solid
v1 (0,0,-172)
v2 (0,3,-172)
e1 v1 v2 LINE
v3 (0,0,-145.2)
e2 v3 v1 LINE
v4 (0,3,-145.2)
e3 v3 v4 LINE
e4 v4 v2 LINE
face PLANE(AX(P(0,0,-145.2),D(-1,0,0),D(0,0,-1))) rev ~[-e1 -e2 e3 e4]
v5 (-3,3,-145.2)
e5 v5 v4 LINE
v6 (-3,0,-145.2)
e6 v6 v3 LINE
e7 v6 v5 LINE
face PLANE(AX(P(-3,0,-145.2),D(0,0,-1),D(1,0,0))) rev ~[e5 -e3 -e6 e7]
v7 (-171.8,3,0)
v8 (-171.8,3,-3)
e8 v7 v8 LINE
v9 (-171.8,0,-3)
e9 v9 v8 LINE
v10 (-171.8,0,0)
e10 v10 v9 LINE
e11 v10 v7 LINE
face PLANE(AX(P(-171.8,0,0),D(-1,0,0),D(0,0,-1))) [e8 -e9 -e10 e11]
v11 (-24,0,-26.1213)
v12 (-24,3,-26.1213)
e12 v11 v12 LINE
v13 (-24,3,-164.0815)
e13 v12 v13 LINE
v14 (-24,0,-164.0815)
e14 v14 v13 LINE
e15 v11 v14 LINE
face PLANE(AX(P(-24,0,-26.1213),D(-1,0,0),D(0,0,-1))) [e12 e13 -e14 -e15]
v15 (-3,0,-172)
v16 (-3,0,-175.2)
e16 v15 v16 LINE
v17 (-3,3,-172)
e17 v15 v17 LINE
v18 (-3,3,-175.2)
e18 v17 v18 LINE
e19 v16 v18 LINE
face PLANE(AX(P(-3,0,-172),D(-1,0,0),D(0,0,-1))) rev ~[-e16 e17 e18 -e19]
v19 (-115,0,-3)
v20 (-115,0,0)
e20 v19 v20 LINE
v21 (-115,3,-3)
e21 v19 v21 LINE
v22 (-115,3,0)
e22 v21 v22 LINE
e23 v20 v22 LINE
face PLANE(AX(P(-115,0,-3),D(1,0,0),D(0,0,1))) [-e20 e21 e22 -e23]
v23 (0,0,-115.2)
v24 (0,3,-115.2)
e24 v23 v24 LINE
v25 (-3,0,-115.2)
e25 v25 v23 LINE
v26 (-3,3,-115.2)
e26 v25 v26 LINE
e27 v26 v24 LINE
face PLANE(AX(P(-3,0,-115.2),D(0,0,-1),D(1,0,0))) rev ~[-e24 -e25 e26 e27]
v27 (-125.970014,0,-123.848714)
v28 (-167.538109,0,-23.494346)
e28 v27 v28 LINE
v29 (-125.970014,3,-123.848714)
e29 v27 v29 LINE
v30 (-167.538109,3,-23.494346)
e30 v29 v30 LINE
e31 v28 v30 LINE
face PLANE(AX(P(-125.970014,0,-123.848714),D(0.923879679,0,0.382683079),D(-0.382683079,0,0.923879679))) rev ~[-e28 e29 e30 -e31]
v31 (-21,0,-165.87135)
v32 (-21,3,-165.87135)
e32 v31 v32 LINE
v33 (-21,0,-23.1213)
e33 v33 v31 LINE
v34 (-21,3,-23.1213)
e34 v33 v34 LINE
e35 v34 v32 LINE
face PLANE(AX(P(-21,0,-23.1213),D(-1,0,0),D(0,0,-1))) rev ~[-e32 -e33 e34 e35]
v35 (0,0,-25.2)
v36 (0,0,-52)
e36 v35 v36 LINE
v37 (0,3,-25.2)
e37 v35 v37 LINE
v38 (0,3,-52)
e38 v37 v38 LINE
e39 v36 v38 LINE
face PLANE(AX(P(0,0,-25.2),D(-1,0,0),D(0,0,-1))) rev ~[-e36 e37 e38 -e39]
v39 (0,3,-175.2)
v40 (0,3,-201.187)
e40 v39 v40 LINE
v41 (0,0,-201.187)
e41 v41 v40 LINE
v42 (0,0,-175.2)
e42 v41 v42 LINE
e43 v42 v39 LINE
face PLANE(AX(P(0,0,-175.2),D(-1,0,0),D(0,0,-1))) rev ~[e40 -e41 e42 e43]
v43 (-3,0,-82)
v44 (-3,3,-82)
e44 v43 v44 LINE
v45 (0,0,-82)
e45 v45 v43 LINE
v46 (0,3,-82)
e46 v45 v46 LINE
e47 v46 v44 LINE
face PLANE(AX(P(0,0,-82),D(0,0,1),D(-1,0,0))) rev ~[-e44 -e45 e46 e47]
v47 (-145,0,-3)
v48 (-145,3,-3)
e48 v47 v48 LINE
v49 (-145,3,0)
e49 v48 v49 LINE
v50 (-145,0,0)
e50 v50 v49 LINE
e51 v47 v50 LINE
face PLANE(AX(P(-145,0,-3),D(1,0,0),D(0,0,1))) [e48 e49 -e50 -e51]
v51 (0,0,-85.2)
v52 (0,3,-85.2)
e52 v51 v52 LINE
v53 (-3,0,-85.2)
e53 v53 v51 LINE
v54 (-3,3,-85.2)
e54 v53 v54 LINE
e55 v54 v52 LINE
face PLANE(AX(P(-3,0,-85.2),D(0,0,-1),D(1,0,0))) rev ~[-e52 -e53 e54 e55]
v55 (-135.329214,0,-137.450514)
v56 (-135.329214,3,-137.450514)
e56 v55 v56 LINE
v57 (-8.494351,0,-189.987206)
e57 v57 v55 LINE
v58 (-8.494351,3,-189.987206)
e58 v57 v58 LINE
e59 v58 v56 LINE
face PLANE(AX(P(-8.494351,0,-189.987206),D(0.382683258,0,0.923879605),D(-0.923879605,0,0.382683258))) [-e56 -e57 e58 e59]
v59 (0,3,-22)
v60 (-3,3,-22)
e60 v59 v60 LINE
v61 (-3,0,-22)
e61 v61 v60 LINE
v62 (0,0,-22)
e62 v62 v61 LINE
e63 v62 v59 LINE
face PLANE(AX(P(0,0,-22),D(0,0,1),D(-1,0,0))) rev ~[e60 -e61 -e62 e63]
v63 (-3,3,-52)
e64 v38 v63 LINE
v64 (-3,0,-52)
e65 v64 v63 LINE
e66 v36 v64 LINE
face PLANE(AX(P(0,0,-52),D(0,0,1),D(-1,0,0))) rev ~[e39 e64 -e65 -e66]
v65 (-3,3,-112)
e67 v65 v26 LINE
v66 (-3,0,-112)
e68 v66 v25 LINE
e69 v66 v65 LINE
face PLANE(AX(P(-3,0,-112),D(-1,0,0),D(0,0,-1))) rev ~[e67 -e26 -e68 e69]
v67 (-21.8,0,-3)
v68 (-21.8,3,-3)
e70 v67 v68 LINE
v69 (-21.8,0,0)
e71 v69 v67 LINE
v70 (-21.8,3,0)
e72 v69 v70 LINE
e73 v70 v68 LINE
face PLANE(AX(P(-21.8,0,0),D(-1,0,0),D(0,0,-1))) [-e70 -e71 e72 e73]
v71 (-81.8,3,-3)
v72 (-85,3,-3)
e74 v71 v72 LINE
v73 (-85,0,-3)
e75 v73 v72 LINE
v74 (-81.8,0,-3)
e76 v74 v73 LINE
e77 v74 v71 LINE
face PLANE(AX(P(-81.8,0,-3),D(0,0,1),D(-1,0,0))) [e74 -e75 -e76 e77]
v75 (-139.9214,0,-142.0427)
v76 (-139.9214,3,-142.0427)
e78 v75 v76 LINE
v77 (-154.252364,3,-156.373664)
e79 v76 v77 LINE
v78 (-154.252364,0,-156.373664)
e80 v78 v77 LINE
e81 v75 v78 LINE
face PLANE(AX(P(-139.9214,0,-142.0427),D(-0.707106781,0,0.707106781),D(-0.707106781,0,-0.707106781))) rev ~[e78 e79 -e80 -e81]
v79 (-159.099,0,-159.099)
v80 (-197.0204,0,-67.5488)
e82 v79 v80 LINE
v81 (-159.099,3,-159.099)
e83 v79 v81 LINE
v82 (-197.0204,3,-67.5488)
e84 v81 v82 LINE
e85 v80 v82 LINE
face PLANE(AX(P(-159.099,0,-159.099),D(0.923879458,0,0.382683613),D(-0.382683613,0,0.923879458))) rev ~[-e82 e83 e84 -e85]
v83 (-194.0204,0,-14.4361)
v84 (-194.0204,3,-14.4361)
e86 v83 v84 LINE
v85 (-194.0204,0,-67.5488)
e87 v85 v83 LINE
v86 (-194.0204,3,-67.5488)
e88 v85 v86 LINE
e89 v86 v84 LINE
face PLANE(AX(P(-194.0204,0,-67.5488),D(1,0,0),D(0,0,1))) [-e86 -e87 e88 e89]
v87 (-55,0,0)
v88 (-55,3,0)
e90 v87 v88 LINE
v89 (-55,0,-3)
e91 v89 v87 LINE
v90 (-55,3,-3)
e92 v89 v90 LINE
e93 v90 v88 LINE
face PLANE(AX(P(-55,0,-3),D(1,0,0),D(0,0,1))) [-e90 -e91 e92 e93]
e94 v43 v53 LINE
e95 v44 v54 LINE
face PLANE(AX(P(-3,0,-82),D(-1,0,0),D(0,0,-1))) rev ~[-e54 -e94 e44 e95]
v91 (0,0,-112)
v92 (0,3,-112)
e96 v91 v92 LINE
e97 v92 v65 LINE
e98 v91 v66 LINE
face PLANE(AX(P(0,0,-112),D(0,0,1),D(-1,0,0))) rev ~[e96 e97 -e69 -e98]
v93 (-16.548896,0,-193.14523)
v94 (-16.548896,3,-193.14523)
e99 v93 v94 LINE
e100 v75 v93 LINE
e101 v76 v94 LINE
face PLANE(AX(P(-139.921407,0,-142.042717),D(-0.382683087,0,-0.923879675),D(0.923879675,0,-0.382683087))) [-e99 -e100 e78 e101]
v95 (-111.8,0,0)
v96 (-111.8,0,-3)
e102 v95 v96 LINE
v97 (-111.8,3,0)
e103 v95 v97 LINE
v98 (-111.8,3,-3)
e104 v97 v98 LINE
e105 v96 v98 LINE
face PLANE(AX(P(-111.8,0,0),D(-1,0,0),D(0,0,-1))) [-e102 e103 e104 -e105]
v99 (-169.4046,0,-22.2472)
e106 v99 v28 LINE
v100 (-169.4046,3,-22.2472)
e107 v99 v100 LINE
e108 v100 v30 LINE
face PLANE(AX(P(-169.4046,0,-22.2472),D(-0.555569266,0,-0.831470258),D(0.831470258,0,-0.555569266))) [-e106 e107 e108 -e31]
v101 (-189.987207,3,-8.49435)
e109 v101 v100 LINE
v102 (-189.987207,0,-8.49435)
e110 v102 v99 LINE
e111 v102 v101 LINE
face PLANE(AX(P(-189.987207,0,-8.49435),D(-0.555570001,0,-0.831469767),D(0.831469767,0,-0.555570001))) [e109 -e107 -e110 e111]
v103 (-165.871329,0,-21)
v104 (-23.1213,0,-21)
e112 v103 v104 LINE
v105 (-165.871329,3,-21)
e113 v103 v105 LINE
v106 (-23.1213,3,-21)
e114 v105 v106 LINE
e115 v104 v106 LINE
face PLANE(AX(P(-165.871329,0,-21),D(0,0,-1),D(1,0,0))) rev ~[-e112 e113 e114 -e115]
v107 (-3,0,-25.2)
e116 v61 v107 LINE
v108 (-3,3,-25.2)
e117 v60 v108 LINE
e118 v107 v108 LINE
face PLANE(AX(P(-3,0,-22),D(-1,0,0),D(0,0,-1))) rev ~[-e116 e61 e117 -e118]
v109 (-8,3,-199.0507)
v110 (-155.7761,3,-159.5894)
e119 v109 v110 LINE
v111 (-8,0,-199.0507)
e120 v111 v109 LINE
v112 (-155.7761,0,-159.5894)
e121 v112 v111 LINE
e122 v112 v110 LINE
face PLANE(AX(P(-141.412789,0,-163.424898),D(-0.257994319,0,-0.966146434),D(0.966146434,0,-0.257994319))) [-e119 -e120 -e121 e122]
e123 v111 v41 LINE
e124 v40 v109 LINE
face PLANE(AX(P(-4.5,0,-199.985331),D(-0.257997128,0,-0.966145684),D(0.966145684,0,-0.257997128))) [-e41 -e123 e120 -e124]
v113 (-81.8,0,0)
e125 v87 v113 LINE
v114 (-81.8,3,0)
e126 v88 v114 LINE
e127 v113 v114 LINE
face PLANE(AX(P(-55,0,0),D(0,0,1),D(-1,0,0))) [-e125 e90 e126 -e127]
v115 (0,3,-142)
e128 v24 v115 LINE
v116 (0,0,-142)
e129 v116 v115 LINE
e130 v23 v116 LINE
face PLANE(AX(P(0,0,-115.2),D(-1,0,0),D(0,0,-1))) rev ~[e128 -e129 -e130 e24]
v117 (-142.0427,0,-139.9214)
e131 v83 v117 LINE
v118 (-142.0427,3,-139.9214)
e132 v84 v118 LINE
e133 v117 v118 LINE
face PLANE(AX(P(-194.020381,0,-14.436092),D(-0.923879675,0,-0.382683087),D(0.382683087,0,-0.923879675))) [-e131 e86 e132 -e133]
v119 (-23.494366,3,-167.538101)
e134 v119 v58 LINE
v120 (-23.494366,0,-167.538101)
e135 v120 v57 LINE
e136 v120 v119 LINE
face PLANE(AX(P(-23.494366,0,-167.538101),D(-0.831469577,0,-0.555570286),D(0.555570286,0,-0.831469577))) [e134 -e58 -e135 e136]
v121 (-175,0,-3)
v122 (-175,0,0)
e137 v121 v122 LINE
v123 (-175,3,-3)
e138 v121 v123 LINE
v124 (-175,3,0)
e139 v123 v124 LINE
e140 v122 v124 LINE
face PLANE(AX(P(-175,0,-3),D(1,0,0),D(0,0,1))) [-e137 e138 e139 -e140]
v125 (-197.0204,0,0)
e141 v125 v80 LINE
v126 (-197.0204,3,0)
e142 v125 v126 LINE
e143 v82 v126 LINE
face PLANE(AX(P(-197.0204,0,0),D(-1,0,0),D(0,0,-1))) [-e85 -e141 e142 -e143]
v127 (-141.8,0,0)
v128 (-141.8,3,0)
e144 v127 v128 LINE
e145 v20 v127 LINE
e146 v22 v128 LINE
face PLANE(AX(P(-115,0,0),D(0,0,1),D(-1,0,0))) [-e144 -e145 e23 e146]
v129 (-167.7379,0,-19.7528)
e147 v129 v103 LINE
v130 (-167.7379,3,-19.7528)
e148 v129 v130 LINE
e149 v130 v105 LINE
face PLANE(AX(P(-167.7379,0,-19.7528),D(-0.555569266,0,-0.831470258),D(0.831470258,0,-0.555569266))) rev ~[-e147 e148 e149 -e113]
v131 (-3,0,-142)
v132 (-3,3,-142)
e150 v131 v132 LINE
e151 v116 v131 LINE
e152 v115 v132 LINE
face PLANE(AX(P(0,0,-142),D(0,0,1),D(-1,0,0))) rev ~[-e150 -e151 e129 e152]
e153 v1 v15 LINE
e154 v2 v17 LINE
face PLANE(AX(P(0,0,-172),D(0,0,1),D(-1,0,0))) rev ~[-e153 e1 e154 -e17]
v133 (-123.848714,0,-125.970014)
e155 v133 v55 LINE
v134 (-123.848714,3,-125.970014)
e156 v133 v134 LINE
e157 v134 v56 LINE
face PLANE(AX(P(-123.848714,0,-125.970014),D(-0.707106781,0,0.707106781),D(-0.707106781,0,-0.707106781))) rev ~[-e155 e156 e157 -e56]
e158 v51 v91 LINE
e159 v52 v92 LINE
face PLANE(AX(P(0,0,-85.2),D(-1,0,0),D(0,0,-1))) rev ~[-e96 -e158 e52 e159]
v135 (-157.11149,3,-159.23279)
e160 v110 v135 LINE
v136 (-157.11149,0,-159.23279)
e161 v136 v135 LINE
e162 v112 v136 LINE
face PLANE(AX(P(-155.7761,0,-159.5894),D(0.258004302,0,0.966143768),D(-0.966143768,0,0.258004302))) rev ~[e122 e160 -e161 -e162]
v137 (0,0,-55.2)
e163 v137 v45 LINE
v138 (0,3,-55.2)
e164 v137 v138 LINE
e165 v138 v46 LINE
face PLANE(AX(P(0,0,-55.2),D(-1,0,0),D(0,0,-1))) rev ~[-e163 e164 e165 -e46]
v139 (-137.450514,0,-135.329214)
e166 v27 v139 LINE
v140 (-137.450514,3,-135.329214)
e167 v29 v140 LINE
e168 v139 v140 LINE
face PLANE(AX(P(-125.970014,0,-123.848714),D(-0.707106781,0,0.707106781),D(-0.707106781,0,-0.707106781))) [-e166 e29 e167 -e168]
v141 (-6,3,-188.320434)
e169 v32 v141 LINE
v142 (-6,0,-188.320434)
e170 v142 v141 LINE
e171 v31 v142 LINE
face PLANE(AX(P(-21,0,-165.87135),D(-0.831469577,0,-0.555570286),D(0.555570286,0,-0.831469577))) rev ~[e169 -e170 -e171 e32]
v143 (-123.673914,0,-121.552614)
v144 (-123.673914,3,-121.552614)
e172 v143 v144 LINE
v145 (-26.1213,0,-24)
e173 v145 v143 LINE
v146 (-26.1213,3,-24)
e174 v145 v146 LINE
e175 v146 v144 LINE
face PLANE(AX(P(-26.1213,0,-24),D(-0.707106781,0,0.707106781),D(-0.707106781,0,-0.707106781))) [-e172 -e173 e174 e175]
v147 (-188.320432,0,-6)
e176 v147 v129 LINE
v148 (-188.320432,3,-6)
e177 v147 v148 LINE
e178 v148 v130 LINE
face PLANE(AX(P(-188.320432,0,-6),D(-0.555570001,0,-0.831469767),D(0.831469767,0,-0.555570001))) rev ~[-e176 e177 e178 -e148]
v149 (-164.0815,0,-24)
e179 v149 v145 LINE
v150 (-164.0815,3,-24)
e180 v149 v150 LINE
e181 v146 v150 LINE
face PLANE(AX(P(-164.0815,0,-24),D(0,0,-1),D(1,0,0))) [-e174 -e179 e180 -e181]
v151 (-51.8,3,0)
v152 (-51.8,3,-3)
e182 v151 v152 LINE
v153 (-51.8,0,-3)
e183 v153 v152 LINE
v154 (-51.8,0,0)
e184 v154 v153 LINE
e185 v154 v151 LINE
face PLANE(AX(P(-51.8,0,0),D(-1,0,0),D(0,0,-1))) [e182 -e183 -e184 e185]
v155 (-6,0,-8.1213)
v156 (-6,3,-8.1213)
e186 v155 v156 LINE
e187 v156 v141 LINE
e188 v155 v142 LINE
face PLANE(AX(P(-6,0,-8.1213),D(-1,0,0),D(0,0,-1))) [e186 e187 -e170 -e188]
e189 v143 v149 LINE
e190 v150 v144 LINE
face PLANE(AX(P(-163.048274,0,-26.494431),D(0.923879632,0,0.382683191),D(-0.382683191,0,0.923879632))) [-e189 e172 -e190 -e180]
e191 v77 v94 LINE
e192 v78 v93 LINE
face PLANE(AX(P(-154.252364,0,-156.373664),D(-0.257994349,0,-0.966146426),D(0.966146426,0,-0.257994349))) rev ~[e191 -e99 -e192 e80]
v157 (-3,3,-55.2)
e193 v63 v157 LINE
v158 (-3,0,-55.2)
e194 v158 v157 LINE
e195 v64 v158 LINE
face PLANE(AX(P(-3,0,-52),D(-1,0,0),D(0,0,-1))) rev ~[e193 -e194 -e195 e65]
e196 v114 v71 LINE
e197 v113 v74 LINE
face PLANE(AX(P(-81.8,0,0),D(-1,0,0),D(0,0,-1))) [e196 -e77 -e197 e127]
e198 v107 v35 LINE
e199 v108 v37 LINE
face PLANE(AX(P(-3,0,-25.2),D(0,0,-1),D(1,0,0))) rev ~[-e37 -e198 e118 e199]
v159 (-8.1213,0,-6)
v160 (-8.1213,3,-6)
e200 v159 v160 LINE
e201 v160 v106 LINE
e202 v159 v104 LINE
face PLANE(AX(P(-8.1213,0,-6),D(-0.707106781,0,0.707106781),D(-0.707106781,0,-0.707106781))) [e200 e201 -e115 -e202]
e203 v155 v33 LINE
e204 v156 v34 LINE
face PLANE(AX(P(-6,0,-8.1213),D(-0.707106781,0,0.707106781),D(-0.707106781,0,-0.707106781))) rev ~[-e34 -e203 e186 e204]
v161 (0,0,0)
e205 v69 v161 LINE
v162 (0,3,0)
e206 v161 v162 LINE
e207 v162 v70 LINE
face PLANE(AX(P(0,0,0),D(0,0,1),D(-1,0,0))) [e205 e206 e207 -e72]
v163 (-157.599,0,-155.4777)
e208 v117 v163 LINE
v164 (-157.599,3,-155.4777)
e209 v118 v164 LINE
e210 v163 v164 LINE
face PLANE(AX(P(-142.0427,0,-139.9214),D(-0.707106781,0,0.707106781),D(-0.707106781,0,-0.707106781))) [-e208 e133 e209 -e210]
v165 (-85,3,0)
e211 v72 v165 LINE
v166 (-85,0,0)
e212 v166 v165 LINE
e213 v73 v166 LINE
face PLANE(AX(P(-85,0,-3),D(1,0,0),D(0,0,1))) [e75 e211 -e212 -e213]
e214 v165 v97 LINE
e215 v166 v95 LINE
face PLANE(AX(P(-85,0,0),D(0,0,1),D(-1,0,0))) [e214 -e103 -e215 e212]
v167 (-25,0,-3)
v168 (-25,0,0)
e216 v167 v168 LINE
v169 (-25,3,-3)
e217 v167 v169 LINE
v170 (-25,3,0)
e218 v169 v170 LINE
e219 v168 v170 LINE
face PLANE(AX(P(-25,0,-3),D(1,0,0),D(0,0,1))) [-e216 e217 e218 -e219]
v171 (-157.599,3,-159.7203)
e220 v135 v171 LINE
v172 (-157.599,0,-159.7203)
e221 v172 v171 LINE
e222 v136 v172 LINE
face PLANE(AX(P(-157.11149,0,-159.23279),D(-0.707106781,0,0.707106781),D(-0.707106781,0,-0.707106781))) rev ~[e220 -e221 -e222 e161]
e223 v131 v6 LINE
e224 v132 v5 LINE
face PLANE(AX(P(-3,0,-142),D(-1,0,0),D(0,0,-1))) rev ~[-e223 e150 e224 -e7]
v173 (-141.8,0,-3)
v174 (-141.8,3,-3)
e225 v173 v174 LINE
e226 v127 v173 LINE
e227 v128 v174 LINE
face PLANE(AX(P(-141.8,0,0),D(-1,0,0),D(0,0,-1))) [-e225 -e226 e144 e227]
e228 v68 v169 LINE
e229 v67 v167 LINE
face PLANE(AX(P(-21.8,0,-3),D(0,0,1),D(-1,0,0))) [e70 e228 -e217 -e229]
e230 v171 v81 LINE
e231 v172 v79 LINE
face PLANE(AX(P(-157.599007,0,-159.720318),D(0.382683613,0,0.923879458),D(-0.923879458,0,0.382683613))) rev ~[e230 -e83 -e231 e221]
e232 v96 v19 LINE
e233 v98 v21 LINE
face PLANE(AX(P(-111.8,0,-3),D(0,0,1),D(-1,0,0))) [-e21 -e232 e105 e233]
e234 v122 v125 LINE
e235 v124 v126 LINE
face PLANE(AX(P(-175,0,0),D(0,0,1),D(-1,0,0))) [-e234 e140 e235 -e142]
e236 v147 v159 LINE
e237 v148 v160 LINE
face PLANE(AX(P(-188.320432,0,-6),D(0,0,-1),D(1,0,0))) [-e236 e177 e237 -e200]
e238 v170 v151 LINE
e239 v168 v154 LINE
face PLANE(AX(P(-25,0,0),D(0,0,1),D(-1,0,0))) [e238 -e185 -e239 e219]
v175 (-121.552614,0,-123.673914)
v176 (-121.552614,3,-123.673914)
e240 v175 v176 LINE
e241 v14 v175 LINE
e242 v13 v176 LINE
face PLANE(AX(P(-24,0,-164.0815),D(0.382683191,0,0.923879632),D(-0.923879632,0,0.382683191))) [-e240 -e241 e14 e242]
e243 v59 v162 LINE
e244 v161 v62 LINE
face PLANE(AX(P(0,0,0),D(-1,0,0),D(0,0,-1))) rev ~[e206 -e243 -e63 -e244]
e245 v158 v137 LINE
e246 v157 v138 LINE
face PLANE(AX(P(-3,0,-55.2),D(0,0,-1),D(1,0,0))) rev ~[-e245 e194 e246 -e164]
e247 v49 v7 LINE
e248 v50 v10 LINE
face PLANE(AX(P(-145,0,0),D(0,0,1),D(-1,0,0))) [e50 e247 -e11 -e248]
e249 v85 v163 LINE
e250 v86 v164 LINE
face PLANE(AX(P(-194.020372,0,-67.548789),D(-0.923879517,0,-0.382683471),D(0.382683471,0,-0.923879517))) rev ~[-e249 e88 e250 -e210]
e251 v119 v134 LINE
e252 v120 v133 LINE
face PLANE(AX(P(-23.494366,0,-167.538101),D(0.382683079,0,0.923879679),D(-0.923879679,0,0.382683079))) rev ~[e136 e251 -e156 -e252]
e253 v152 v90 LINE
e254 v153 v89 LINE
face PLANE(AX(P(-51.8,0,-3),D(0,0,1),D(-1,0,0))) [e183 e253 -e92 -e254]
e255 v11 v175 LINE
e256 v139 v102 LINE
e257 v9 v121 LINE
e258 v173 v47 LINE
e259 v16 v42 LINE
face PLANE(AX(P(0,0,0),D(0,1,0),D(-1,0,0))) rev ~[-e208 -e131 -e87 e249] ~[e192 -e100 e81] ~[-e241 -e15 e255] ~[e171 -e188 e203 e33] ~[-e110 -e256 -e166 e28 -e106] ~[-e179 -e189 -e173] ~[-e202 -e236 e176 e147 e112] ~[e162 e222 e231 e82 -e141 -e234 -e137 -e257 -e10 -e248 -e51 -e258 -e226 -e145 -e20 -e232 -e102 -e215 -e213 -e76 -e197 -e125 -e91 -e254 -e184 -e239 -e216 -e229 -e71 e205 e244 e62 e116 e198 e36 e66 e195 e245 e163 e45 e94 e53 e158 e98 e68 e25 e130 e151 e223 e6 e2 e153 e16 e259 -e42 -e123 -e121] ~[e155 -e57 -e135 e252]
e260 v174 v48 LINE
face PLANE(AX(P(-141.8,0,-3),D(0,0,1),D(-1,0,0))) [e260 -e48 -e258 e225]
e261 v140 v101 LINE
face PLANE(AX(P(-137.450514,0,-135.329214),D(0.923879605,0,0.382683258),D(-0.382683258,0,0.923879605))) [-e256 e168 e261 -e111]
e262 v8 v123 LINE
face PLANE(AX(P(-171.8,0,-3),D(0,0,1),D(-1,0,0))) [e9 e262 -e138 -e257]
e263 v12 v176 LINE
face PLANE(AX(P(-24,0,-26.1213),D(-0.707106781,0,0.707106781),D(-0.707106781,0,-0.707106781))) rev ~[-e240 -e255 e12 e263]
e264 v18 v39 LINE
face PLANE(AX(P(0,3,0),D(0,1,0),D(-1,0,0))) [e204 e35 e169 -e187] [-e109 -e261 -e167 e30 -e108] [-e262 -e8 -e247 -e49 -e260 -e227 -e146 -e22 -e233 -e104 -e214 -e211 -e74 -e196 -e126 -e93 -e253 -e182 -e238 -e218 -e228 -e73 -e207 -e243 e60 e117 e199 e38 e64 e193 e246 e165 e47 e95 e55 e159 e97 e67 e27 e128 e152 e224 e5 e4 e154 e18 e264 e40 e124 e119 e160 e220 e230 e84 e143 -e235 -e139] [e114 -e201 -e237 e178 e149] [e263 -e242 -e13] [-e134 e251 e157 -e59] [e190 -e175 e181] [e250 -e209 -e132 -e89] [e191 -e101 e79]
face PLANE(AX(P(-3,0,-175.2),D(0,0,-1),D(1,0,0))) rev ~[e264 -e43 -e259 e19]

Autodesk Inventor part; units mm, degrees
ref_plane "YZ Plane" through (0, 0, 0) normal (1, 0, 0) x (0, 1, 0)
ref_plane "XZ Plane" through (0, 0, 0) normal (0, 1, 0) x (-1, 0, 0)
ref_plane "XY Plane" through (0, 0, 0) normal (0, 0, 1) x (1, 0, 0)
sketch "草圖1" plane through (0, 0, 0) normal (0, 1, 0) x (-1, 0, 0)
  line L0 (0, 0) -> (0, -200)
  line L1 (0, 0) -> (200, 0)
  line L2 (0, 0) -> (141.4214, -141.4214)
  line L3 (200, 0) -> (141.4214, -141.4214)
  line L4 (141.4214, -141.4214) -> (0, -200)
  line L5 (191.0204, -6) -> (6, -6)
  line L6 (6, -6) -> (6, -191.0204)
  line L7 (6, -191.0204) -> (136.8292, -136.8292)
  line L8 (136.8292, -136.8292) -> (191.0204, -6)
  line L9 (2.1213, 0) -> (142.0427, -139.9214)
  line L10 (0, -2.1213) -> (139.9214, -142.0427)
  line L11 (168.5713, -21) -> (21, -21)
  line L12 (21, -21) -> (21, -168.5713)
  line L13 (21, -168.5713) -> (125.3487, -125.3487)
  line L14 (125.3487, -125.3487) -> (168.5713, -21)
  line L15 (164.0815, -24) -> (24, -24)
  line L16 (24, -24) -> (24, -164.0815)
  line L17 (24, -164.0815) -> (123.0526, -123.0526)
  line L18 (123.0526, -123.0526) -> (164.0815, -24)
  line L19 (191.0204, -6) -> (168.5713, -21)
  line L20 (191.8537, -7.2472) -> (169.4046, -22.2472)
  line L21 (190.187, -4.7528) -> (167.7379, -19.7528)
  line L22 (167.7379, -19.7528) -> (161.3815, -24)
  line L23 (169.4046, -22.2472) -> (163.0482, -26.4944)
  line L24 (24, -164.0815) -> (6, -191.0204)
  line L25 (25.2472, -164.9148) -> (7.2472, -191.8537)
  line L26 (22.7528, -163.2481) -> (4.7528, -190.187)
  line L27 (175, 0) -> (171.8, 0)
  line L28 (171.8, 0) -> (171.8, -3)
  line L29 (171.8, -3) -> (175, -3)
  line L30 (175, -3) -> (175, 0)
  line L31 (141.8, -3) -> (145, -3)
  line L32 (141.8, 0) -> (141.8, -3)
  line L33 (145, -3) -> (145, 0)
  line L34 (111.8, -3) -> (115, -3)
  line L35 (111.8, 0) -> (111.8, -3)
  line L36 (115, -3) -> (115, 0)
  line L37 (81.8, -3) -> (85, -3)
  line L38 (81.8, 0) -> (81.8, -3)
  line L39 (85, -3) -> (85, 0)
  line L40 (51.8, -3) -> (55, -3)
  line L41 (51.8, 0) -> (51.8, -3)
  line L42 (55, -3) -> (55, 0)
  line L43 (21.8, -3) -> (25, -3)
  line L44 (21.8, 0) -> (21.8, -3)
  line L45 (25, -3) -> (25, 0)
  line L46 (0, -200) -> (0, -222)
  line L47 (0, -222) -> (156.9777, -156.9777)
  line L48 (200, 0) -> (222, 0)
  line L49 (141.4214, -141.4214) -> (156.9777, -156.9777)
  line L50 (222, 0) -> (156.9777, -156.9777)
  line L51 (197.0204, 0) -> (197.0204, -60.3062)
  line L52 (0, -222) -> (0, -225)
  line L53 (0, -225) -> (159.099, -159.099)
  line L54 (156.9777, -156.9777) -> (159.099, -159.099)
  line L55 (159.099, -159.099) -> (225, 0)
  line L56 (222, 0) -> (225, 0)
  line L57 (197.0204, -60.3062) -> (197.0204, -67.5488)
  line L58 (0, -200) -> (0, -222)
  line L59 (6, -197.5147) -> (6, -219.5147)
  line L60 (194.0204, -67.5488) -> (194.0204, -14.4361)
  line L61 (142.0427, -139.9214) -> (157.599, -155.4777)
  line L62 (139.9214, -142.0427) -> (157.599, -159.7203)
  line L63 (0, -22) -> (3, -22)
  line L64 (3, -22) -> (3, -25.2)
  line L65 (3, -25.2) -> (0, -25.2)
  line L66 (0, -25.2) -> (0, -22)
  line L67 (3, -52) -> (3, -55.2)
  line L68 (0, -52) -> (3, -52)
  line L69 (3, -55.2) -> (0, -55.2)
  line L70 (3, -82) -> (3, -85.2)
  line L71 (0, -82) -> (3, -82)
  line L72 (3, -85.2) -> (0, -85.2)
  line L73 (3, -112) -> (3, -115.2)
  line L74 (0, -112) -> (3, -112)
  line L75 (3, -115.2) -> (0, -115.2)
  line L76 (3, -142) -> (3, -145.2)
  line L77 (0, -142) -> (3, -142)
  line L78 (3, -145.2) -> (0, -145.2)
  line L79 (3, -172) -> (3, -175.2)
  line L80 (0, -172) -> (3, -172)
  line L81 (3, -175.2) -> (0, -175.2)
  line L82 (155.4777, -157.599) -> (6, -197.5147)
  line L83 (155.7761, -159.5894) -> (8, -199.0507)
  line L84 (8, -199.0507) -> (8, -219.5147)
  line L85 (155.0907, -156.1498) -> (4.5, -196.3627)
  line L86 (4.5, -196.3627) -> (4.5, -219.5147)
  line L87 (155.7761, -159.5894) -> (158.7857, -158.7857)
  line L88 (8, -199.0507) -> (0, -201.187)
  point P0 (8.1213, -6)
  point P1 (137.4505, -135.3292)
  point P2 (135.3292, -137.4505)
  point P3 (6, -8.1213)
  point P4 (121.5526, -123.6739)
  point P5 (24, -26.1213)
  point P6 (21, -23.1213)
  point P7 (123.8487, -125.97)
  point P8 (123.6739, -121.5526)
  point P9 (125.97, -123.8487)
  point P10 (23.1213, -21)
  point P11 (26.1213, -24)
  point P12 (21, -165.8714)
  point P13 (6, -188.3204)
  point P14 (8.4944, -189.9871)
  point P15 (23.4944, -167.5381)
  point P16 (188.3204, -6)
  point P17 (165.8714, -21)
  point P18 (167.5381, -23.4944)
  point P19 (189.9871, -8.4944)
  point P20 (171.8, 0)
  point P21 (141.8, 0)
  point P22 (111.8, 0)
  point P23 (81.8, 0)
  point P24 (51.8, 0)
  point P25 (21.8, 0)
  point P26 (156.9777, -156.9777)
  point P27 (197.0204, -7.1935)
  point P28 (157.5991, -156.7203)
  point P29 (0, -25.2)
  point P30 (0, -55.2)
  point P31 (0, -85.2)
  point P32 (0, -115.2)
  point P33 (0, -145.2)
  point P34 (0, -175.2)
  point P35 (154.2524, -156.3737)
  point P36 (16.5488, -193.1453)
  point P37 (157.1115, -159.2328)
  point P38 (0, -201.187)
  dimension "d0" = 200
  dimension "d1" = 200
  dimension "d2" = 45
  dimension "d3" = 67.5
  dimension "d4" = 6
  dimension "d5" = 1.5
  dimension "d6" = 1.5
  dimension "d9" = 15
  dimension "d10" = 3
  dimension "d11" = 1.5
  dimension "d12" = 1.5
  dimension "d13" = 1.5
  dimension "d14" = 1.5
  dimension "d15" = 3
  dimension "d16" = 3.2
  dimension "d17" = 25
  dimension "d20" = 30
  dimension "d27" = 22
  dimension "d28" = 22
  dimension "d29" = 6
  dimension "d30" = 3
  dimension "d31" = 3
  dimension "d32" = 6
  dimension "d34" = 3
  dimension "d35" = 3
  dimension "d36" = 3.2
  dimension "d37" = 22
  dimension "d40" = 30
  dimension "d49" = 2
  dimension "d50" = 1.5
extrude "擠出1" add sketch "草圖1" along normal blind 3 contours L2 L6 L10 L0 | L1 L9 L5 L2 | L10 L6 L7 L4 L85 L86 L0 L81 L79 L80 L78 L76 L77 L75 L73 L74 L72 L70 L71 L69 L67 L68 L65 L64 L63 | L1 L44 L43 L45 L41 L40 L42 L38 L37 L39 L35 L34 L36 L32 L31 L33 L28 L29 L30 L51 L3 L9 L8 L5 | L5 L9 L11 L2 | L2 L12 L10 L6 | L11 L9 L15 L2 | L2 L16 L10 L12 | L26 L12 L24 L6 | L10 L16 L24 L12 | L5 L19 L11 L22 L21 | L11 L22 L15 L9 | L15 L9 L18 L2 | L2 L17 L10 L16 | L24 L13 L25 L7 | L8 L20 L23 L14 L19 | L11 L14 L23 L18 L15 L22 | L18 L9 L14 L2 | L2 L13 L10 L17 | L24 L17 L10 L13 | L18 L23 L14 L9 | L14 L9 L8 L2 | L2 L7 L10 L13 | L7 L2 L4 L10 | L9 L3 L2 L8 | L4 L49 L47 L62 | L61 L50 L49 L3 | L85 L62 L82 L4 | L4 L86 L85 | L3 L51 L50 L60 | L50 L57 L55 L54 | L54 L87 L62 L47 | L59 L88 L86 L4 | L82 L47 L83 L88 L59 | L62 L87 L83 L47 | L54 L53 L62 L87 | L86 L88 L46 L4
sketch "草圖2" plane through (-3, 0, -25.2) normal (0, 0, 1) x (1, 0, 0)
  line L0 (0, 0) -> (0, 3) projected
  line L1 (-154.599, 3) -> (-156.099, 3) projected
  line L2 (0, 0) -> (-3, 0)
  line L3 (-3, 0) -> (-3, 3)
  line L4 (-3, 3) -> (0, 3)
  line L5 (0, 3) -> (0, 0)
  circle A0 centre (-1.5, 1.5) radius 2.1213
  point P0 (3, 0)
  point P1 (3, 3)
  dimension "d45" = 3
  dimension "d46" = 4.2426
sketch "草圖3" plane through (-21.8, 0, -3) normal (-1, 0, 0) x (0, 0, 1)
  line L0 (0, 3) -> (-3, 3)
  line L1 (-3, 3) -> (-3, 0)
  line L2 (-3, 0) -> (0, 0)
  line L3 (0, 0) -> (0, 3)
  circle A0 centre (-1.5, 1.5) radius 2.1213
  point P0 (3, 0)
  dimension "d47" = 4.2426
  dimension "d48" = 1.5
properties part number "side_sail"
